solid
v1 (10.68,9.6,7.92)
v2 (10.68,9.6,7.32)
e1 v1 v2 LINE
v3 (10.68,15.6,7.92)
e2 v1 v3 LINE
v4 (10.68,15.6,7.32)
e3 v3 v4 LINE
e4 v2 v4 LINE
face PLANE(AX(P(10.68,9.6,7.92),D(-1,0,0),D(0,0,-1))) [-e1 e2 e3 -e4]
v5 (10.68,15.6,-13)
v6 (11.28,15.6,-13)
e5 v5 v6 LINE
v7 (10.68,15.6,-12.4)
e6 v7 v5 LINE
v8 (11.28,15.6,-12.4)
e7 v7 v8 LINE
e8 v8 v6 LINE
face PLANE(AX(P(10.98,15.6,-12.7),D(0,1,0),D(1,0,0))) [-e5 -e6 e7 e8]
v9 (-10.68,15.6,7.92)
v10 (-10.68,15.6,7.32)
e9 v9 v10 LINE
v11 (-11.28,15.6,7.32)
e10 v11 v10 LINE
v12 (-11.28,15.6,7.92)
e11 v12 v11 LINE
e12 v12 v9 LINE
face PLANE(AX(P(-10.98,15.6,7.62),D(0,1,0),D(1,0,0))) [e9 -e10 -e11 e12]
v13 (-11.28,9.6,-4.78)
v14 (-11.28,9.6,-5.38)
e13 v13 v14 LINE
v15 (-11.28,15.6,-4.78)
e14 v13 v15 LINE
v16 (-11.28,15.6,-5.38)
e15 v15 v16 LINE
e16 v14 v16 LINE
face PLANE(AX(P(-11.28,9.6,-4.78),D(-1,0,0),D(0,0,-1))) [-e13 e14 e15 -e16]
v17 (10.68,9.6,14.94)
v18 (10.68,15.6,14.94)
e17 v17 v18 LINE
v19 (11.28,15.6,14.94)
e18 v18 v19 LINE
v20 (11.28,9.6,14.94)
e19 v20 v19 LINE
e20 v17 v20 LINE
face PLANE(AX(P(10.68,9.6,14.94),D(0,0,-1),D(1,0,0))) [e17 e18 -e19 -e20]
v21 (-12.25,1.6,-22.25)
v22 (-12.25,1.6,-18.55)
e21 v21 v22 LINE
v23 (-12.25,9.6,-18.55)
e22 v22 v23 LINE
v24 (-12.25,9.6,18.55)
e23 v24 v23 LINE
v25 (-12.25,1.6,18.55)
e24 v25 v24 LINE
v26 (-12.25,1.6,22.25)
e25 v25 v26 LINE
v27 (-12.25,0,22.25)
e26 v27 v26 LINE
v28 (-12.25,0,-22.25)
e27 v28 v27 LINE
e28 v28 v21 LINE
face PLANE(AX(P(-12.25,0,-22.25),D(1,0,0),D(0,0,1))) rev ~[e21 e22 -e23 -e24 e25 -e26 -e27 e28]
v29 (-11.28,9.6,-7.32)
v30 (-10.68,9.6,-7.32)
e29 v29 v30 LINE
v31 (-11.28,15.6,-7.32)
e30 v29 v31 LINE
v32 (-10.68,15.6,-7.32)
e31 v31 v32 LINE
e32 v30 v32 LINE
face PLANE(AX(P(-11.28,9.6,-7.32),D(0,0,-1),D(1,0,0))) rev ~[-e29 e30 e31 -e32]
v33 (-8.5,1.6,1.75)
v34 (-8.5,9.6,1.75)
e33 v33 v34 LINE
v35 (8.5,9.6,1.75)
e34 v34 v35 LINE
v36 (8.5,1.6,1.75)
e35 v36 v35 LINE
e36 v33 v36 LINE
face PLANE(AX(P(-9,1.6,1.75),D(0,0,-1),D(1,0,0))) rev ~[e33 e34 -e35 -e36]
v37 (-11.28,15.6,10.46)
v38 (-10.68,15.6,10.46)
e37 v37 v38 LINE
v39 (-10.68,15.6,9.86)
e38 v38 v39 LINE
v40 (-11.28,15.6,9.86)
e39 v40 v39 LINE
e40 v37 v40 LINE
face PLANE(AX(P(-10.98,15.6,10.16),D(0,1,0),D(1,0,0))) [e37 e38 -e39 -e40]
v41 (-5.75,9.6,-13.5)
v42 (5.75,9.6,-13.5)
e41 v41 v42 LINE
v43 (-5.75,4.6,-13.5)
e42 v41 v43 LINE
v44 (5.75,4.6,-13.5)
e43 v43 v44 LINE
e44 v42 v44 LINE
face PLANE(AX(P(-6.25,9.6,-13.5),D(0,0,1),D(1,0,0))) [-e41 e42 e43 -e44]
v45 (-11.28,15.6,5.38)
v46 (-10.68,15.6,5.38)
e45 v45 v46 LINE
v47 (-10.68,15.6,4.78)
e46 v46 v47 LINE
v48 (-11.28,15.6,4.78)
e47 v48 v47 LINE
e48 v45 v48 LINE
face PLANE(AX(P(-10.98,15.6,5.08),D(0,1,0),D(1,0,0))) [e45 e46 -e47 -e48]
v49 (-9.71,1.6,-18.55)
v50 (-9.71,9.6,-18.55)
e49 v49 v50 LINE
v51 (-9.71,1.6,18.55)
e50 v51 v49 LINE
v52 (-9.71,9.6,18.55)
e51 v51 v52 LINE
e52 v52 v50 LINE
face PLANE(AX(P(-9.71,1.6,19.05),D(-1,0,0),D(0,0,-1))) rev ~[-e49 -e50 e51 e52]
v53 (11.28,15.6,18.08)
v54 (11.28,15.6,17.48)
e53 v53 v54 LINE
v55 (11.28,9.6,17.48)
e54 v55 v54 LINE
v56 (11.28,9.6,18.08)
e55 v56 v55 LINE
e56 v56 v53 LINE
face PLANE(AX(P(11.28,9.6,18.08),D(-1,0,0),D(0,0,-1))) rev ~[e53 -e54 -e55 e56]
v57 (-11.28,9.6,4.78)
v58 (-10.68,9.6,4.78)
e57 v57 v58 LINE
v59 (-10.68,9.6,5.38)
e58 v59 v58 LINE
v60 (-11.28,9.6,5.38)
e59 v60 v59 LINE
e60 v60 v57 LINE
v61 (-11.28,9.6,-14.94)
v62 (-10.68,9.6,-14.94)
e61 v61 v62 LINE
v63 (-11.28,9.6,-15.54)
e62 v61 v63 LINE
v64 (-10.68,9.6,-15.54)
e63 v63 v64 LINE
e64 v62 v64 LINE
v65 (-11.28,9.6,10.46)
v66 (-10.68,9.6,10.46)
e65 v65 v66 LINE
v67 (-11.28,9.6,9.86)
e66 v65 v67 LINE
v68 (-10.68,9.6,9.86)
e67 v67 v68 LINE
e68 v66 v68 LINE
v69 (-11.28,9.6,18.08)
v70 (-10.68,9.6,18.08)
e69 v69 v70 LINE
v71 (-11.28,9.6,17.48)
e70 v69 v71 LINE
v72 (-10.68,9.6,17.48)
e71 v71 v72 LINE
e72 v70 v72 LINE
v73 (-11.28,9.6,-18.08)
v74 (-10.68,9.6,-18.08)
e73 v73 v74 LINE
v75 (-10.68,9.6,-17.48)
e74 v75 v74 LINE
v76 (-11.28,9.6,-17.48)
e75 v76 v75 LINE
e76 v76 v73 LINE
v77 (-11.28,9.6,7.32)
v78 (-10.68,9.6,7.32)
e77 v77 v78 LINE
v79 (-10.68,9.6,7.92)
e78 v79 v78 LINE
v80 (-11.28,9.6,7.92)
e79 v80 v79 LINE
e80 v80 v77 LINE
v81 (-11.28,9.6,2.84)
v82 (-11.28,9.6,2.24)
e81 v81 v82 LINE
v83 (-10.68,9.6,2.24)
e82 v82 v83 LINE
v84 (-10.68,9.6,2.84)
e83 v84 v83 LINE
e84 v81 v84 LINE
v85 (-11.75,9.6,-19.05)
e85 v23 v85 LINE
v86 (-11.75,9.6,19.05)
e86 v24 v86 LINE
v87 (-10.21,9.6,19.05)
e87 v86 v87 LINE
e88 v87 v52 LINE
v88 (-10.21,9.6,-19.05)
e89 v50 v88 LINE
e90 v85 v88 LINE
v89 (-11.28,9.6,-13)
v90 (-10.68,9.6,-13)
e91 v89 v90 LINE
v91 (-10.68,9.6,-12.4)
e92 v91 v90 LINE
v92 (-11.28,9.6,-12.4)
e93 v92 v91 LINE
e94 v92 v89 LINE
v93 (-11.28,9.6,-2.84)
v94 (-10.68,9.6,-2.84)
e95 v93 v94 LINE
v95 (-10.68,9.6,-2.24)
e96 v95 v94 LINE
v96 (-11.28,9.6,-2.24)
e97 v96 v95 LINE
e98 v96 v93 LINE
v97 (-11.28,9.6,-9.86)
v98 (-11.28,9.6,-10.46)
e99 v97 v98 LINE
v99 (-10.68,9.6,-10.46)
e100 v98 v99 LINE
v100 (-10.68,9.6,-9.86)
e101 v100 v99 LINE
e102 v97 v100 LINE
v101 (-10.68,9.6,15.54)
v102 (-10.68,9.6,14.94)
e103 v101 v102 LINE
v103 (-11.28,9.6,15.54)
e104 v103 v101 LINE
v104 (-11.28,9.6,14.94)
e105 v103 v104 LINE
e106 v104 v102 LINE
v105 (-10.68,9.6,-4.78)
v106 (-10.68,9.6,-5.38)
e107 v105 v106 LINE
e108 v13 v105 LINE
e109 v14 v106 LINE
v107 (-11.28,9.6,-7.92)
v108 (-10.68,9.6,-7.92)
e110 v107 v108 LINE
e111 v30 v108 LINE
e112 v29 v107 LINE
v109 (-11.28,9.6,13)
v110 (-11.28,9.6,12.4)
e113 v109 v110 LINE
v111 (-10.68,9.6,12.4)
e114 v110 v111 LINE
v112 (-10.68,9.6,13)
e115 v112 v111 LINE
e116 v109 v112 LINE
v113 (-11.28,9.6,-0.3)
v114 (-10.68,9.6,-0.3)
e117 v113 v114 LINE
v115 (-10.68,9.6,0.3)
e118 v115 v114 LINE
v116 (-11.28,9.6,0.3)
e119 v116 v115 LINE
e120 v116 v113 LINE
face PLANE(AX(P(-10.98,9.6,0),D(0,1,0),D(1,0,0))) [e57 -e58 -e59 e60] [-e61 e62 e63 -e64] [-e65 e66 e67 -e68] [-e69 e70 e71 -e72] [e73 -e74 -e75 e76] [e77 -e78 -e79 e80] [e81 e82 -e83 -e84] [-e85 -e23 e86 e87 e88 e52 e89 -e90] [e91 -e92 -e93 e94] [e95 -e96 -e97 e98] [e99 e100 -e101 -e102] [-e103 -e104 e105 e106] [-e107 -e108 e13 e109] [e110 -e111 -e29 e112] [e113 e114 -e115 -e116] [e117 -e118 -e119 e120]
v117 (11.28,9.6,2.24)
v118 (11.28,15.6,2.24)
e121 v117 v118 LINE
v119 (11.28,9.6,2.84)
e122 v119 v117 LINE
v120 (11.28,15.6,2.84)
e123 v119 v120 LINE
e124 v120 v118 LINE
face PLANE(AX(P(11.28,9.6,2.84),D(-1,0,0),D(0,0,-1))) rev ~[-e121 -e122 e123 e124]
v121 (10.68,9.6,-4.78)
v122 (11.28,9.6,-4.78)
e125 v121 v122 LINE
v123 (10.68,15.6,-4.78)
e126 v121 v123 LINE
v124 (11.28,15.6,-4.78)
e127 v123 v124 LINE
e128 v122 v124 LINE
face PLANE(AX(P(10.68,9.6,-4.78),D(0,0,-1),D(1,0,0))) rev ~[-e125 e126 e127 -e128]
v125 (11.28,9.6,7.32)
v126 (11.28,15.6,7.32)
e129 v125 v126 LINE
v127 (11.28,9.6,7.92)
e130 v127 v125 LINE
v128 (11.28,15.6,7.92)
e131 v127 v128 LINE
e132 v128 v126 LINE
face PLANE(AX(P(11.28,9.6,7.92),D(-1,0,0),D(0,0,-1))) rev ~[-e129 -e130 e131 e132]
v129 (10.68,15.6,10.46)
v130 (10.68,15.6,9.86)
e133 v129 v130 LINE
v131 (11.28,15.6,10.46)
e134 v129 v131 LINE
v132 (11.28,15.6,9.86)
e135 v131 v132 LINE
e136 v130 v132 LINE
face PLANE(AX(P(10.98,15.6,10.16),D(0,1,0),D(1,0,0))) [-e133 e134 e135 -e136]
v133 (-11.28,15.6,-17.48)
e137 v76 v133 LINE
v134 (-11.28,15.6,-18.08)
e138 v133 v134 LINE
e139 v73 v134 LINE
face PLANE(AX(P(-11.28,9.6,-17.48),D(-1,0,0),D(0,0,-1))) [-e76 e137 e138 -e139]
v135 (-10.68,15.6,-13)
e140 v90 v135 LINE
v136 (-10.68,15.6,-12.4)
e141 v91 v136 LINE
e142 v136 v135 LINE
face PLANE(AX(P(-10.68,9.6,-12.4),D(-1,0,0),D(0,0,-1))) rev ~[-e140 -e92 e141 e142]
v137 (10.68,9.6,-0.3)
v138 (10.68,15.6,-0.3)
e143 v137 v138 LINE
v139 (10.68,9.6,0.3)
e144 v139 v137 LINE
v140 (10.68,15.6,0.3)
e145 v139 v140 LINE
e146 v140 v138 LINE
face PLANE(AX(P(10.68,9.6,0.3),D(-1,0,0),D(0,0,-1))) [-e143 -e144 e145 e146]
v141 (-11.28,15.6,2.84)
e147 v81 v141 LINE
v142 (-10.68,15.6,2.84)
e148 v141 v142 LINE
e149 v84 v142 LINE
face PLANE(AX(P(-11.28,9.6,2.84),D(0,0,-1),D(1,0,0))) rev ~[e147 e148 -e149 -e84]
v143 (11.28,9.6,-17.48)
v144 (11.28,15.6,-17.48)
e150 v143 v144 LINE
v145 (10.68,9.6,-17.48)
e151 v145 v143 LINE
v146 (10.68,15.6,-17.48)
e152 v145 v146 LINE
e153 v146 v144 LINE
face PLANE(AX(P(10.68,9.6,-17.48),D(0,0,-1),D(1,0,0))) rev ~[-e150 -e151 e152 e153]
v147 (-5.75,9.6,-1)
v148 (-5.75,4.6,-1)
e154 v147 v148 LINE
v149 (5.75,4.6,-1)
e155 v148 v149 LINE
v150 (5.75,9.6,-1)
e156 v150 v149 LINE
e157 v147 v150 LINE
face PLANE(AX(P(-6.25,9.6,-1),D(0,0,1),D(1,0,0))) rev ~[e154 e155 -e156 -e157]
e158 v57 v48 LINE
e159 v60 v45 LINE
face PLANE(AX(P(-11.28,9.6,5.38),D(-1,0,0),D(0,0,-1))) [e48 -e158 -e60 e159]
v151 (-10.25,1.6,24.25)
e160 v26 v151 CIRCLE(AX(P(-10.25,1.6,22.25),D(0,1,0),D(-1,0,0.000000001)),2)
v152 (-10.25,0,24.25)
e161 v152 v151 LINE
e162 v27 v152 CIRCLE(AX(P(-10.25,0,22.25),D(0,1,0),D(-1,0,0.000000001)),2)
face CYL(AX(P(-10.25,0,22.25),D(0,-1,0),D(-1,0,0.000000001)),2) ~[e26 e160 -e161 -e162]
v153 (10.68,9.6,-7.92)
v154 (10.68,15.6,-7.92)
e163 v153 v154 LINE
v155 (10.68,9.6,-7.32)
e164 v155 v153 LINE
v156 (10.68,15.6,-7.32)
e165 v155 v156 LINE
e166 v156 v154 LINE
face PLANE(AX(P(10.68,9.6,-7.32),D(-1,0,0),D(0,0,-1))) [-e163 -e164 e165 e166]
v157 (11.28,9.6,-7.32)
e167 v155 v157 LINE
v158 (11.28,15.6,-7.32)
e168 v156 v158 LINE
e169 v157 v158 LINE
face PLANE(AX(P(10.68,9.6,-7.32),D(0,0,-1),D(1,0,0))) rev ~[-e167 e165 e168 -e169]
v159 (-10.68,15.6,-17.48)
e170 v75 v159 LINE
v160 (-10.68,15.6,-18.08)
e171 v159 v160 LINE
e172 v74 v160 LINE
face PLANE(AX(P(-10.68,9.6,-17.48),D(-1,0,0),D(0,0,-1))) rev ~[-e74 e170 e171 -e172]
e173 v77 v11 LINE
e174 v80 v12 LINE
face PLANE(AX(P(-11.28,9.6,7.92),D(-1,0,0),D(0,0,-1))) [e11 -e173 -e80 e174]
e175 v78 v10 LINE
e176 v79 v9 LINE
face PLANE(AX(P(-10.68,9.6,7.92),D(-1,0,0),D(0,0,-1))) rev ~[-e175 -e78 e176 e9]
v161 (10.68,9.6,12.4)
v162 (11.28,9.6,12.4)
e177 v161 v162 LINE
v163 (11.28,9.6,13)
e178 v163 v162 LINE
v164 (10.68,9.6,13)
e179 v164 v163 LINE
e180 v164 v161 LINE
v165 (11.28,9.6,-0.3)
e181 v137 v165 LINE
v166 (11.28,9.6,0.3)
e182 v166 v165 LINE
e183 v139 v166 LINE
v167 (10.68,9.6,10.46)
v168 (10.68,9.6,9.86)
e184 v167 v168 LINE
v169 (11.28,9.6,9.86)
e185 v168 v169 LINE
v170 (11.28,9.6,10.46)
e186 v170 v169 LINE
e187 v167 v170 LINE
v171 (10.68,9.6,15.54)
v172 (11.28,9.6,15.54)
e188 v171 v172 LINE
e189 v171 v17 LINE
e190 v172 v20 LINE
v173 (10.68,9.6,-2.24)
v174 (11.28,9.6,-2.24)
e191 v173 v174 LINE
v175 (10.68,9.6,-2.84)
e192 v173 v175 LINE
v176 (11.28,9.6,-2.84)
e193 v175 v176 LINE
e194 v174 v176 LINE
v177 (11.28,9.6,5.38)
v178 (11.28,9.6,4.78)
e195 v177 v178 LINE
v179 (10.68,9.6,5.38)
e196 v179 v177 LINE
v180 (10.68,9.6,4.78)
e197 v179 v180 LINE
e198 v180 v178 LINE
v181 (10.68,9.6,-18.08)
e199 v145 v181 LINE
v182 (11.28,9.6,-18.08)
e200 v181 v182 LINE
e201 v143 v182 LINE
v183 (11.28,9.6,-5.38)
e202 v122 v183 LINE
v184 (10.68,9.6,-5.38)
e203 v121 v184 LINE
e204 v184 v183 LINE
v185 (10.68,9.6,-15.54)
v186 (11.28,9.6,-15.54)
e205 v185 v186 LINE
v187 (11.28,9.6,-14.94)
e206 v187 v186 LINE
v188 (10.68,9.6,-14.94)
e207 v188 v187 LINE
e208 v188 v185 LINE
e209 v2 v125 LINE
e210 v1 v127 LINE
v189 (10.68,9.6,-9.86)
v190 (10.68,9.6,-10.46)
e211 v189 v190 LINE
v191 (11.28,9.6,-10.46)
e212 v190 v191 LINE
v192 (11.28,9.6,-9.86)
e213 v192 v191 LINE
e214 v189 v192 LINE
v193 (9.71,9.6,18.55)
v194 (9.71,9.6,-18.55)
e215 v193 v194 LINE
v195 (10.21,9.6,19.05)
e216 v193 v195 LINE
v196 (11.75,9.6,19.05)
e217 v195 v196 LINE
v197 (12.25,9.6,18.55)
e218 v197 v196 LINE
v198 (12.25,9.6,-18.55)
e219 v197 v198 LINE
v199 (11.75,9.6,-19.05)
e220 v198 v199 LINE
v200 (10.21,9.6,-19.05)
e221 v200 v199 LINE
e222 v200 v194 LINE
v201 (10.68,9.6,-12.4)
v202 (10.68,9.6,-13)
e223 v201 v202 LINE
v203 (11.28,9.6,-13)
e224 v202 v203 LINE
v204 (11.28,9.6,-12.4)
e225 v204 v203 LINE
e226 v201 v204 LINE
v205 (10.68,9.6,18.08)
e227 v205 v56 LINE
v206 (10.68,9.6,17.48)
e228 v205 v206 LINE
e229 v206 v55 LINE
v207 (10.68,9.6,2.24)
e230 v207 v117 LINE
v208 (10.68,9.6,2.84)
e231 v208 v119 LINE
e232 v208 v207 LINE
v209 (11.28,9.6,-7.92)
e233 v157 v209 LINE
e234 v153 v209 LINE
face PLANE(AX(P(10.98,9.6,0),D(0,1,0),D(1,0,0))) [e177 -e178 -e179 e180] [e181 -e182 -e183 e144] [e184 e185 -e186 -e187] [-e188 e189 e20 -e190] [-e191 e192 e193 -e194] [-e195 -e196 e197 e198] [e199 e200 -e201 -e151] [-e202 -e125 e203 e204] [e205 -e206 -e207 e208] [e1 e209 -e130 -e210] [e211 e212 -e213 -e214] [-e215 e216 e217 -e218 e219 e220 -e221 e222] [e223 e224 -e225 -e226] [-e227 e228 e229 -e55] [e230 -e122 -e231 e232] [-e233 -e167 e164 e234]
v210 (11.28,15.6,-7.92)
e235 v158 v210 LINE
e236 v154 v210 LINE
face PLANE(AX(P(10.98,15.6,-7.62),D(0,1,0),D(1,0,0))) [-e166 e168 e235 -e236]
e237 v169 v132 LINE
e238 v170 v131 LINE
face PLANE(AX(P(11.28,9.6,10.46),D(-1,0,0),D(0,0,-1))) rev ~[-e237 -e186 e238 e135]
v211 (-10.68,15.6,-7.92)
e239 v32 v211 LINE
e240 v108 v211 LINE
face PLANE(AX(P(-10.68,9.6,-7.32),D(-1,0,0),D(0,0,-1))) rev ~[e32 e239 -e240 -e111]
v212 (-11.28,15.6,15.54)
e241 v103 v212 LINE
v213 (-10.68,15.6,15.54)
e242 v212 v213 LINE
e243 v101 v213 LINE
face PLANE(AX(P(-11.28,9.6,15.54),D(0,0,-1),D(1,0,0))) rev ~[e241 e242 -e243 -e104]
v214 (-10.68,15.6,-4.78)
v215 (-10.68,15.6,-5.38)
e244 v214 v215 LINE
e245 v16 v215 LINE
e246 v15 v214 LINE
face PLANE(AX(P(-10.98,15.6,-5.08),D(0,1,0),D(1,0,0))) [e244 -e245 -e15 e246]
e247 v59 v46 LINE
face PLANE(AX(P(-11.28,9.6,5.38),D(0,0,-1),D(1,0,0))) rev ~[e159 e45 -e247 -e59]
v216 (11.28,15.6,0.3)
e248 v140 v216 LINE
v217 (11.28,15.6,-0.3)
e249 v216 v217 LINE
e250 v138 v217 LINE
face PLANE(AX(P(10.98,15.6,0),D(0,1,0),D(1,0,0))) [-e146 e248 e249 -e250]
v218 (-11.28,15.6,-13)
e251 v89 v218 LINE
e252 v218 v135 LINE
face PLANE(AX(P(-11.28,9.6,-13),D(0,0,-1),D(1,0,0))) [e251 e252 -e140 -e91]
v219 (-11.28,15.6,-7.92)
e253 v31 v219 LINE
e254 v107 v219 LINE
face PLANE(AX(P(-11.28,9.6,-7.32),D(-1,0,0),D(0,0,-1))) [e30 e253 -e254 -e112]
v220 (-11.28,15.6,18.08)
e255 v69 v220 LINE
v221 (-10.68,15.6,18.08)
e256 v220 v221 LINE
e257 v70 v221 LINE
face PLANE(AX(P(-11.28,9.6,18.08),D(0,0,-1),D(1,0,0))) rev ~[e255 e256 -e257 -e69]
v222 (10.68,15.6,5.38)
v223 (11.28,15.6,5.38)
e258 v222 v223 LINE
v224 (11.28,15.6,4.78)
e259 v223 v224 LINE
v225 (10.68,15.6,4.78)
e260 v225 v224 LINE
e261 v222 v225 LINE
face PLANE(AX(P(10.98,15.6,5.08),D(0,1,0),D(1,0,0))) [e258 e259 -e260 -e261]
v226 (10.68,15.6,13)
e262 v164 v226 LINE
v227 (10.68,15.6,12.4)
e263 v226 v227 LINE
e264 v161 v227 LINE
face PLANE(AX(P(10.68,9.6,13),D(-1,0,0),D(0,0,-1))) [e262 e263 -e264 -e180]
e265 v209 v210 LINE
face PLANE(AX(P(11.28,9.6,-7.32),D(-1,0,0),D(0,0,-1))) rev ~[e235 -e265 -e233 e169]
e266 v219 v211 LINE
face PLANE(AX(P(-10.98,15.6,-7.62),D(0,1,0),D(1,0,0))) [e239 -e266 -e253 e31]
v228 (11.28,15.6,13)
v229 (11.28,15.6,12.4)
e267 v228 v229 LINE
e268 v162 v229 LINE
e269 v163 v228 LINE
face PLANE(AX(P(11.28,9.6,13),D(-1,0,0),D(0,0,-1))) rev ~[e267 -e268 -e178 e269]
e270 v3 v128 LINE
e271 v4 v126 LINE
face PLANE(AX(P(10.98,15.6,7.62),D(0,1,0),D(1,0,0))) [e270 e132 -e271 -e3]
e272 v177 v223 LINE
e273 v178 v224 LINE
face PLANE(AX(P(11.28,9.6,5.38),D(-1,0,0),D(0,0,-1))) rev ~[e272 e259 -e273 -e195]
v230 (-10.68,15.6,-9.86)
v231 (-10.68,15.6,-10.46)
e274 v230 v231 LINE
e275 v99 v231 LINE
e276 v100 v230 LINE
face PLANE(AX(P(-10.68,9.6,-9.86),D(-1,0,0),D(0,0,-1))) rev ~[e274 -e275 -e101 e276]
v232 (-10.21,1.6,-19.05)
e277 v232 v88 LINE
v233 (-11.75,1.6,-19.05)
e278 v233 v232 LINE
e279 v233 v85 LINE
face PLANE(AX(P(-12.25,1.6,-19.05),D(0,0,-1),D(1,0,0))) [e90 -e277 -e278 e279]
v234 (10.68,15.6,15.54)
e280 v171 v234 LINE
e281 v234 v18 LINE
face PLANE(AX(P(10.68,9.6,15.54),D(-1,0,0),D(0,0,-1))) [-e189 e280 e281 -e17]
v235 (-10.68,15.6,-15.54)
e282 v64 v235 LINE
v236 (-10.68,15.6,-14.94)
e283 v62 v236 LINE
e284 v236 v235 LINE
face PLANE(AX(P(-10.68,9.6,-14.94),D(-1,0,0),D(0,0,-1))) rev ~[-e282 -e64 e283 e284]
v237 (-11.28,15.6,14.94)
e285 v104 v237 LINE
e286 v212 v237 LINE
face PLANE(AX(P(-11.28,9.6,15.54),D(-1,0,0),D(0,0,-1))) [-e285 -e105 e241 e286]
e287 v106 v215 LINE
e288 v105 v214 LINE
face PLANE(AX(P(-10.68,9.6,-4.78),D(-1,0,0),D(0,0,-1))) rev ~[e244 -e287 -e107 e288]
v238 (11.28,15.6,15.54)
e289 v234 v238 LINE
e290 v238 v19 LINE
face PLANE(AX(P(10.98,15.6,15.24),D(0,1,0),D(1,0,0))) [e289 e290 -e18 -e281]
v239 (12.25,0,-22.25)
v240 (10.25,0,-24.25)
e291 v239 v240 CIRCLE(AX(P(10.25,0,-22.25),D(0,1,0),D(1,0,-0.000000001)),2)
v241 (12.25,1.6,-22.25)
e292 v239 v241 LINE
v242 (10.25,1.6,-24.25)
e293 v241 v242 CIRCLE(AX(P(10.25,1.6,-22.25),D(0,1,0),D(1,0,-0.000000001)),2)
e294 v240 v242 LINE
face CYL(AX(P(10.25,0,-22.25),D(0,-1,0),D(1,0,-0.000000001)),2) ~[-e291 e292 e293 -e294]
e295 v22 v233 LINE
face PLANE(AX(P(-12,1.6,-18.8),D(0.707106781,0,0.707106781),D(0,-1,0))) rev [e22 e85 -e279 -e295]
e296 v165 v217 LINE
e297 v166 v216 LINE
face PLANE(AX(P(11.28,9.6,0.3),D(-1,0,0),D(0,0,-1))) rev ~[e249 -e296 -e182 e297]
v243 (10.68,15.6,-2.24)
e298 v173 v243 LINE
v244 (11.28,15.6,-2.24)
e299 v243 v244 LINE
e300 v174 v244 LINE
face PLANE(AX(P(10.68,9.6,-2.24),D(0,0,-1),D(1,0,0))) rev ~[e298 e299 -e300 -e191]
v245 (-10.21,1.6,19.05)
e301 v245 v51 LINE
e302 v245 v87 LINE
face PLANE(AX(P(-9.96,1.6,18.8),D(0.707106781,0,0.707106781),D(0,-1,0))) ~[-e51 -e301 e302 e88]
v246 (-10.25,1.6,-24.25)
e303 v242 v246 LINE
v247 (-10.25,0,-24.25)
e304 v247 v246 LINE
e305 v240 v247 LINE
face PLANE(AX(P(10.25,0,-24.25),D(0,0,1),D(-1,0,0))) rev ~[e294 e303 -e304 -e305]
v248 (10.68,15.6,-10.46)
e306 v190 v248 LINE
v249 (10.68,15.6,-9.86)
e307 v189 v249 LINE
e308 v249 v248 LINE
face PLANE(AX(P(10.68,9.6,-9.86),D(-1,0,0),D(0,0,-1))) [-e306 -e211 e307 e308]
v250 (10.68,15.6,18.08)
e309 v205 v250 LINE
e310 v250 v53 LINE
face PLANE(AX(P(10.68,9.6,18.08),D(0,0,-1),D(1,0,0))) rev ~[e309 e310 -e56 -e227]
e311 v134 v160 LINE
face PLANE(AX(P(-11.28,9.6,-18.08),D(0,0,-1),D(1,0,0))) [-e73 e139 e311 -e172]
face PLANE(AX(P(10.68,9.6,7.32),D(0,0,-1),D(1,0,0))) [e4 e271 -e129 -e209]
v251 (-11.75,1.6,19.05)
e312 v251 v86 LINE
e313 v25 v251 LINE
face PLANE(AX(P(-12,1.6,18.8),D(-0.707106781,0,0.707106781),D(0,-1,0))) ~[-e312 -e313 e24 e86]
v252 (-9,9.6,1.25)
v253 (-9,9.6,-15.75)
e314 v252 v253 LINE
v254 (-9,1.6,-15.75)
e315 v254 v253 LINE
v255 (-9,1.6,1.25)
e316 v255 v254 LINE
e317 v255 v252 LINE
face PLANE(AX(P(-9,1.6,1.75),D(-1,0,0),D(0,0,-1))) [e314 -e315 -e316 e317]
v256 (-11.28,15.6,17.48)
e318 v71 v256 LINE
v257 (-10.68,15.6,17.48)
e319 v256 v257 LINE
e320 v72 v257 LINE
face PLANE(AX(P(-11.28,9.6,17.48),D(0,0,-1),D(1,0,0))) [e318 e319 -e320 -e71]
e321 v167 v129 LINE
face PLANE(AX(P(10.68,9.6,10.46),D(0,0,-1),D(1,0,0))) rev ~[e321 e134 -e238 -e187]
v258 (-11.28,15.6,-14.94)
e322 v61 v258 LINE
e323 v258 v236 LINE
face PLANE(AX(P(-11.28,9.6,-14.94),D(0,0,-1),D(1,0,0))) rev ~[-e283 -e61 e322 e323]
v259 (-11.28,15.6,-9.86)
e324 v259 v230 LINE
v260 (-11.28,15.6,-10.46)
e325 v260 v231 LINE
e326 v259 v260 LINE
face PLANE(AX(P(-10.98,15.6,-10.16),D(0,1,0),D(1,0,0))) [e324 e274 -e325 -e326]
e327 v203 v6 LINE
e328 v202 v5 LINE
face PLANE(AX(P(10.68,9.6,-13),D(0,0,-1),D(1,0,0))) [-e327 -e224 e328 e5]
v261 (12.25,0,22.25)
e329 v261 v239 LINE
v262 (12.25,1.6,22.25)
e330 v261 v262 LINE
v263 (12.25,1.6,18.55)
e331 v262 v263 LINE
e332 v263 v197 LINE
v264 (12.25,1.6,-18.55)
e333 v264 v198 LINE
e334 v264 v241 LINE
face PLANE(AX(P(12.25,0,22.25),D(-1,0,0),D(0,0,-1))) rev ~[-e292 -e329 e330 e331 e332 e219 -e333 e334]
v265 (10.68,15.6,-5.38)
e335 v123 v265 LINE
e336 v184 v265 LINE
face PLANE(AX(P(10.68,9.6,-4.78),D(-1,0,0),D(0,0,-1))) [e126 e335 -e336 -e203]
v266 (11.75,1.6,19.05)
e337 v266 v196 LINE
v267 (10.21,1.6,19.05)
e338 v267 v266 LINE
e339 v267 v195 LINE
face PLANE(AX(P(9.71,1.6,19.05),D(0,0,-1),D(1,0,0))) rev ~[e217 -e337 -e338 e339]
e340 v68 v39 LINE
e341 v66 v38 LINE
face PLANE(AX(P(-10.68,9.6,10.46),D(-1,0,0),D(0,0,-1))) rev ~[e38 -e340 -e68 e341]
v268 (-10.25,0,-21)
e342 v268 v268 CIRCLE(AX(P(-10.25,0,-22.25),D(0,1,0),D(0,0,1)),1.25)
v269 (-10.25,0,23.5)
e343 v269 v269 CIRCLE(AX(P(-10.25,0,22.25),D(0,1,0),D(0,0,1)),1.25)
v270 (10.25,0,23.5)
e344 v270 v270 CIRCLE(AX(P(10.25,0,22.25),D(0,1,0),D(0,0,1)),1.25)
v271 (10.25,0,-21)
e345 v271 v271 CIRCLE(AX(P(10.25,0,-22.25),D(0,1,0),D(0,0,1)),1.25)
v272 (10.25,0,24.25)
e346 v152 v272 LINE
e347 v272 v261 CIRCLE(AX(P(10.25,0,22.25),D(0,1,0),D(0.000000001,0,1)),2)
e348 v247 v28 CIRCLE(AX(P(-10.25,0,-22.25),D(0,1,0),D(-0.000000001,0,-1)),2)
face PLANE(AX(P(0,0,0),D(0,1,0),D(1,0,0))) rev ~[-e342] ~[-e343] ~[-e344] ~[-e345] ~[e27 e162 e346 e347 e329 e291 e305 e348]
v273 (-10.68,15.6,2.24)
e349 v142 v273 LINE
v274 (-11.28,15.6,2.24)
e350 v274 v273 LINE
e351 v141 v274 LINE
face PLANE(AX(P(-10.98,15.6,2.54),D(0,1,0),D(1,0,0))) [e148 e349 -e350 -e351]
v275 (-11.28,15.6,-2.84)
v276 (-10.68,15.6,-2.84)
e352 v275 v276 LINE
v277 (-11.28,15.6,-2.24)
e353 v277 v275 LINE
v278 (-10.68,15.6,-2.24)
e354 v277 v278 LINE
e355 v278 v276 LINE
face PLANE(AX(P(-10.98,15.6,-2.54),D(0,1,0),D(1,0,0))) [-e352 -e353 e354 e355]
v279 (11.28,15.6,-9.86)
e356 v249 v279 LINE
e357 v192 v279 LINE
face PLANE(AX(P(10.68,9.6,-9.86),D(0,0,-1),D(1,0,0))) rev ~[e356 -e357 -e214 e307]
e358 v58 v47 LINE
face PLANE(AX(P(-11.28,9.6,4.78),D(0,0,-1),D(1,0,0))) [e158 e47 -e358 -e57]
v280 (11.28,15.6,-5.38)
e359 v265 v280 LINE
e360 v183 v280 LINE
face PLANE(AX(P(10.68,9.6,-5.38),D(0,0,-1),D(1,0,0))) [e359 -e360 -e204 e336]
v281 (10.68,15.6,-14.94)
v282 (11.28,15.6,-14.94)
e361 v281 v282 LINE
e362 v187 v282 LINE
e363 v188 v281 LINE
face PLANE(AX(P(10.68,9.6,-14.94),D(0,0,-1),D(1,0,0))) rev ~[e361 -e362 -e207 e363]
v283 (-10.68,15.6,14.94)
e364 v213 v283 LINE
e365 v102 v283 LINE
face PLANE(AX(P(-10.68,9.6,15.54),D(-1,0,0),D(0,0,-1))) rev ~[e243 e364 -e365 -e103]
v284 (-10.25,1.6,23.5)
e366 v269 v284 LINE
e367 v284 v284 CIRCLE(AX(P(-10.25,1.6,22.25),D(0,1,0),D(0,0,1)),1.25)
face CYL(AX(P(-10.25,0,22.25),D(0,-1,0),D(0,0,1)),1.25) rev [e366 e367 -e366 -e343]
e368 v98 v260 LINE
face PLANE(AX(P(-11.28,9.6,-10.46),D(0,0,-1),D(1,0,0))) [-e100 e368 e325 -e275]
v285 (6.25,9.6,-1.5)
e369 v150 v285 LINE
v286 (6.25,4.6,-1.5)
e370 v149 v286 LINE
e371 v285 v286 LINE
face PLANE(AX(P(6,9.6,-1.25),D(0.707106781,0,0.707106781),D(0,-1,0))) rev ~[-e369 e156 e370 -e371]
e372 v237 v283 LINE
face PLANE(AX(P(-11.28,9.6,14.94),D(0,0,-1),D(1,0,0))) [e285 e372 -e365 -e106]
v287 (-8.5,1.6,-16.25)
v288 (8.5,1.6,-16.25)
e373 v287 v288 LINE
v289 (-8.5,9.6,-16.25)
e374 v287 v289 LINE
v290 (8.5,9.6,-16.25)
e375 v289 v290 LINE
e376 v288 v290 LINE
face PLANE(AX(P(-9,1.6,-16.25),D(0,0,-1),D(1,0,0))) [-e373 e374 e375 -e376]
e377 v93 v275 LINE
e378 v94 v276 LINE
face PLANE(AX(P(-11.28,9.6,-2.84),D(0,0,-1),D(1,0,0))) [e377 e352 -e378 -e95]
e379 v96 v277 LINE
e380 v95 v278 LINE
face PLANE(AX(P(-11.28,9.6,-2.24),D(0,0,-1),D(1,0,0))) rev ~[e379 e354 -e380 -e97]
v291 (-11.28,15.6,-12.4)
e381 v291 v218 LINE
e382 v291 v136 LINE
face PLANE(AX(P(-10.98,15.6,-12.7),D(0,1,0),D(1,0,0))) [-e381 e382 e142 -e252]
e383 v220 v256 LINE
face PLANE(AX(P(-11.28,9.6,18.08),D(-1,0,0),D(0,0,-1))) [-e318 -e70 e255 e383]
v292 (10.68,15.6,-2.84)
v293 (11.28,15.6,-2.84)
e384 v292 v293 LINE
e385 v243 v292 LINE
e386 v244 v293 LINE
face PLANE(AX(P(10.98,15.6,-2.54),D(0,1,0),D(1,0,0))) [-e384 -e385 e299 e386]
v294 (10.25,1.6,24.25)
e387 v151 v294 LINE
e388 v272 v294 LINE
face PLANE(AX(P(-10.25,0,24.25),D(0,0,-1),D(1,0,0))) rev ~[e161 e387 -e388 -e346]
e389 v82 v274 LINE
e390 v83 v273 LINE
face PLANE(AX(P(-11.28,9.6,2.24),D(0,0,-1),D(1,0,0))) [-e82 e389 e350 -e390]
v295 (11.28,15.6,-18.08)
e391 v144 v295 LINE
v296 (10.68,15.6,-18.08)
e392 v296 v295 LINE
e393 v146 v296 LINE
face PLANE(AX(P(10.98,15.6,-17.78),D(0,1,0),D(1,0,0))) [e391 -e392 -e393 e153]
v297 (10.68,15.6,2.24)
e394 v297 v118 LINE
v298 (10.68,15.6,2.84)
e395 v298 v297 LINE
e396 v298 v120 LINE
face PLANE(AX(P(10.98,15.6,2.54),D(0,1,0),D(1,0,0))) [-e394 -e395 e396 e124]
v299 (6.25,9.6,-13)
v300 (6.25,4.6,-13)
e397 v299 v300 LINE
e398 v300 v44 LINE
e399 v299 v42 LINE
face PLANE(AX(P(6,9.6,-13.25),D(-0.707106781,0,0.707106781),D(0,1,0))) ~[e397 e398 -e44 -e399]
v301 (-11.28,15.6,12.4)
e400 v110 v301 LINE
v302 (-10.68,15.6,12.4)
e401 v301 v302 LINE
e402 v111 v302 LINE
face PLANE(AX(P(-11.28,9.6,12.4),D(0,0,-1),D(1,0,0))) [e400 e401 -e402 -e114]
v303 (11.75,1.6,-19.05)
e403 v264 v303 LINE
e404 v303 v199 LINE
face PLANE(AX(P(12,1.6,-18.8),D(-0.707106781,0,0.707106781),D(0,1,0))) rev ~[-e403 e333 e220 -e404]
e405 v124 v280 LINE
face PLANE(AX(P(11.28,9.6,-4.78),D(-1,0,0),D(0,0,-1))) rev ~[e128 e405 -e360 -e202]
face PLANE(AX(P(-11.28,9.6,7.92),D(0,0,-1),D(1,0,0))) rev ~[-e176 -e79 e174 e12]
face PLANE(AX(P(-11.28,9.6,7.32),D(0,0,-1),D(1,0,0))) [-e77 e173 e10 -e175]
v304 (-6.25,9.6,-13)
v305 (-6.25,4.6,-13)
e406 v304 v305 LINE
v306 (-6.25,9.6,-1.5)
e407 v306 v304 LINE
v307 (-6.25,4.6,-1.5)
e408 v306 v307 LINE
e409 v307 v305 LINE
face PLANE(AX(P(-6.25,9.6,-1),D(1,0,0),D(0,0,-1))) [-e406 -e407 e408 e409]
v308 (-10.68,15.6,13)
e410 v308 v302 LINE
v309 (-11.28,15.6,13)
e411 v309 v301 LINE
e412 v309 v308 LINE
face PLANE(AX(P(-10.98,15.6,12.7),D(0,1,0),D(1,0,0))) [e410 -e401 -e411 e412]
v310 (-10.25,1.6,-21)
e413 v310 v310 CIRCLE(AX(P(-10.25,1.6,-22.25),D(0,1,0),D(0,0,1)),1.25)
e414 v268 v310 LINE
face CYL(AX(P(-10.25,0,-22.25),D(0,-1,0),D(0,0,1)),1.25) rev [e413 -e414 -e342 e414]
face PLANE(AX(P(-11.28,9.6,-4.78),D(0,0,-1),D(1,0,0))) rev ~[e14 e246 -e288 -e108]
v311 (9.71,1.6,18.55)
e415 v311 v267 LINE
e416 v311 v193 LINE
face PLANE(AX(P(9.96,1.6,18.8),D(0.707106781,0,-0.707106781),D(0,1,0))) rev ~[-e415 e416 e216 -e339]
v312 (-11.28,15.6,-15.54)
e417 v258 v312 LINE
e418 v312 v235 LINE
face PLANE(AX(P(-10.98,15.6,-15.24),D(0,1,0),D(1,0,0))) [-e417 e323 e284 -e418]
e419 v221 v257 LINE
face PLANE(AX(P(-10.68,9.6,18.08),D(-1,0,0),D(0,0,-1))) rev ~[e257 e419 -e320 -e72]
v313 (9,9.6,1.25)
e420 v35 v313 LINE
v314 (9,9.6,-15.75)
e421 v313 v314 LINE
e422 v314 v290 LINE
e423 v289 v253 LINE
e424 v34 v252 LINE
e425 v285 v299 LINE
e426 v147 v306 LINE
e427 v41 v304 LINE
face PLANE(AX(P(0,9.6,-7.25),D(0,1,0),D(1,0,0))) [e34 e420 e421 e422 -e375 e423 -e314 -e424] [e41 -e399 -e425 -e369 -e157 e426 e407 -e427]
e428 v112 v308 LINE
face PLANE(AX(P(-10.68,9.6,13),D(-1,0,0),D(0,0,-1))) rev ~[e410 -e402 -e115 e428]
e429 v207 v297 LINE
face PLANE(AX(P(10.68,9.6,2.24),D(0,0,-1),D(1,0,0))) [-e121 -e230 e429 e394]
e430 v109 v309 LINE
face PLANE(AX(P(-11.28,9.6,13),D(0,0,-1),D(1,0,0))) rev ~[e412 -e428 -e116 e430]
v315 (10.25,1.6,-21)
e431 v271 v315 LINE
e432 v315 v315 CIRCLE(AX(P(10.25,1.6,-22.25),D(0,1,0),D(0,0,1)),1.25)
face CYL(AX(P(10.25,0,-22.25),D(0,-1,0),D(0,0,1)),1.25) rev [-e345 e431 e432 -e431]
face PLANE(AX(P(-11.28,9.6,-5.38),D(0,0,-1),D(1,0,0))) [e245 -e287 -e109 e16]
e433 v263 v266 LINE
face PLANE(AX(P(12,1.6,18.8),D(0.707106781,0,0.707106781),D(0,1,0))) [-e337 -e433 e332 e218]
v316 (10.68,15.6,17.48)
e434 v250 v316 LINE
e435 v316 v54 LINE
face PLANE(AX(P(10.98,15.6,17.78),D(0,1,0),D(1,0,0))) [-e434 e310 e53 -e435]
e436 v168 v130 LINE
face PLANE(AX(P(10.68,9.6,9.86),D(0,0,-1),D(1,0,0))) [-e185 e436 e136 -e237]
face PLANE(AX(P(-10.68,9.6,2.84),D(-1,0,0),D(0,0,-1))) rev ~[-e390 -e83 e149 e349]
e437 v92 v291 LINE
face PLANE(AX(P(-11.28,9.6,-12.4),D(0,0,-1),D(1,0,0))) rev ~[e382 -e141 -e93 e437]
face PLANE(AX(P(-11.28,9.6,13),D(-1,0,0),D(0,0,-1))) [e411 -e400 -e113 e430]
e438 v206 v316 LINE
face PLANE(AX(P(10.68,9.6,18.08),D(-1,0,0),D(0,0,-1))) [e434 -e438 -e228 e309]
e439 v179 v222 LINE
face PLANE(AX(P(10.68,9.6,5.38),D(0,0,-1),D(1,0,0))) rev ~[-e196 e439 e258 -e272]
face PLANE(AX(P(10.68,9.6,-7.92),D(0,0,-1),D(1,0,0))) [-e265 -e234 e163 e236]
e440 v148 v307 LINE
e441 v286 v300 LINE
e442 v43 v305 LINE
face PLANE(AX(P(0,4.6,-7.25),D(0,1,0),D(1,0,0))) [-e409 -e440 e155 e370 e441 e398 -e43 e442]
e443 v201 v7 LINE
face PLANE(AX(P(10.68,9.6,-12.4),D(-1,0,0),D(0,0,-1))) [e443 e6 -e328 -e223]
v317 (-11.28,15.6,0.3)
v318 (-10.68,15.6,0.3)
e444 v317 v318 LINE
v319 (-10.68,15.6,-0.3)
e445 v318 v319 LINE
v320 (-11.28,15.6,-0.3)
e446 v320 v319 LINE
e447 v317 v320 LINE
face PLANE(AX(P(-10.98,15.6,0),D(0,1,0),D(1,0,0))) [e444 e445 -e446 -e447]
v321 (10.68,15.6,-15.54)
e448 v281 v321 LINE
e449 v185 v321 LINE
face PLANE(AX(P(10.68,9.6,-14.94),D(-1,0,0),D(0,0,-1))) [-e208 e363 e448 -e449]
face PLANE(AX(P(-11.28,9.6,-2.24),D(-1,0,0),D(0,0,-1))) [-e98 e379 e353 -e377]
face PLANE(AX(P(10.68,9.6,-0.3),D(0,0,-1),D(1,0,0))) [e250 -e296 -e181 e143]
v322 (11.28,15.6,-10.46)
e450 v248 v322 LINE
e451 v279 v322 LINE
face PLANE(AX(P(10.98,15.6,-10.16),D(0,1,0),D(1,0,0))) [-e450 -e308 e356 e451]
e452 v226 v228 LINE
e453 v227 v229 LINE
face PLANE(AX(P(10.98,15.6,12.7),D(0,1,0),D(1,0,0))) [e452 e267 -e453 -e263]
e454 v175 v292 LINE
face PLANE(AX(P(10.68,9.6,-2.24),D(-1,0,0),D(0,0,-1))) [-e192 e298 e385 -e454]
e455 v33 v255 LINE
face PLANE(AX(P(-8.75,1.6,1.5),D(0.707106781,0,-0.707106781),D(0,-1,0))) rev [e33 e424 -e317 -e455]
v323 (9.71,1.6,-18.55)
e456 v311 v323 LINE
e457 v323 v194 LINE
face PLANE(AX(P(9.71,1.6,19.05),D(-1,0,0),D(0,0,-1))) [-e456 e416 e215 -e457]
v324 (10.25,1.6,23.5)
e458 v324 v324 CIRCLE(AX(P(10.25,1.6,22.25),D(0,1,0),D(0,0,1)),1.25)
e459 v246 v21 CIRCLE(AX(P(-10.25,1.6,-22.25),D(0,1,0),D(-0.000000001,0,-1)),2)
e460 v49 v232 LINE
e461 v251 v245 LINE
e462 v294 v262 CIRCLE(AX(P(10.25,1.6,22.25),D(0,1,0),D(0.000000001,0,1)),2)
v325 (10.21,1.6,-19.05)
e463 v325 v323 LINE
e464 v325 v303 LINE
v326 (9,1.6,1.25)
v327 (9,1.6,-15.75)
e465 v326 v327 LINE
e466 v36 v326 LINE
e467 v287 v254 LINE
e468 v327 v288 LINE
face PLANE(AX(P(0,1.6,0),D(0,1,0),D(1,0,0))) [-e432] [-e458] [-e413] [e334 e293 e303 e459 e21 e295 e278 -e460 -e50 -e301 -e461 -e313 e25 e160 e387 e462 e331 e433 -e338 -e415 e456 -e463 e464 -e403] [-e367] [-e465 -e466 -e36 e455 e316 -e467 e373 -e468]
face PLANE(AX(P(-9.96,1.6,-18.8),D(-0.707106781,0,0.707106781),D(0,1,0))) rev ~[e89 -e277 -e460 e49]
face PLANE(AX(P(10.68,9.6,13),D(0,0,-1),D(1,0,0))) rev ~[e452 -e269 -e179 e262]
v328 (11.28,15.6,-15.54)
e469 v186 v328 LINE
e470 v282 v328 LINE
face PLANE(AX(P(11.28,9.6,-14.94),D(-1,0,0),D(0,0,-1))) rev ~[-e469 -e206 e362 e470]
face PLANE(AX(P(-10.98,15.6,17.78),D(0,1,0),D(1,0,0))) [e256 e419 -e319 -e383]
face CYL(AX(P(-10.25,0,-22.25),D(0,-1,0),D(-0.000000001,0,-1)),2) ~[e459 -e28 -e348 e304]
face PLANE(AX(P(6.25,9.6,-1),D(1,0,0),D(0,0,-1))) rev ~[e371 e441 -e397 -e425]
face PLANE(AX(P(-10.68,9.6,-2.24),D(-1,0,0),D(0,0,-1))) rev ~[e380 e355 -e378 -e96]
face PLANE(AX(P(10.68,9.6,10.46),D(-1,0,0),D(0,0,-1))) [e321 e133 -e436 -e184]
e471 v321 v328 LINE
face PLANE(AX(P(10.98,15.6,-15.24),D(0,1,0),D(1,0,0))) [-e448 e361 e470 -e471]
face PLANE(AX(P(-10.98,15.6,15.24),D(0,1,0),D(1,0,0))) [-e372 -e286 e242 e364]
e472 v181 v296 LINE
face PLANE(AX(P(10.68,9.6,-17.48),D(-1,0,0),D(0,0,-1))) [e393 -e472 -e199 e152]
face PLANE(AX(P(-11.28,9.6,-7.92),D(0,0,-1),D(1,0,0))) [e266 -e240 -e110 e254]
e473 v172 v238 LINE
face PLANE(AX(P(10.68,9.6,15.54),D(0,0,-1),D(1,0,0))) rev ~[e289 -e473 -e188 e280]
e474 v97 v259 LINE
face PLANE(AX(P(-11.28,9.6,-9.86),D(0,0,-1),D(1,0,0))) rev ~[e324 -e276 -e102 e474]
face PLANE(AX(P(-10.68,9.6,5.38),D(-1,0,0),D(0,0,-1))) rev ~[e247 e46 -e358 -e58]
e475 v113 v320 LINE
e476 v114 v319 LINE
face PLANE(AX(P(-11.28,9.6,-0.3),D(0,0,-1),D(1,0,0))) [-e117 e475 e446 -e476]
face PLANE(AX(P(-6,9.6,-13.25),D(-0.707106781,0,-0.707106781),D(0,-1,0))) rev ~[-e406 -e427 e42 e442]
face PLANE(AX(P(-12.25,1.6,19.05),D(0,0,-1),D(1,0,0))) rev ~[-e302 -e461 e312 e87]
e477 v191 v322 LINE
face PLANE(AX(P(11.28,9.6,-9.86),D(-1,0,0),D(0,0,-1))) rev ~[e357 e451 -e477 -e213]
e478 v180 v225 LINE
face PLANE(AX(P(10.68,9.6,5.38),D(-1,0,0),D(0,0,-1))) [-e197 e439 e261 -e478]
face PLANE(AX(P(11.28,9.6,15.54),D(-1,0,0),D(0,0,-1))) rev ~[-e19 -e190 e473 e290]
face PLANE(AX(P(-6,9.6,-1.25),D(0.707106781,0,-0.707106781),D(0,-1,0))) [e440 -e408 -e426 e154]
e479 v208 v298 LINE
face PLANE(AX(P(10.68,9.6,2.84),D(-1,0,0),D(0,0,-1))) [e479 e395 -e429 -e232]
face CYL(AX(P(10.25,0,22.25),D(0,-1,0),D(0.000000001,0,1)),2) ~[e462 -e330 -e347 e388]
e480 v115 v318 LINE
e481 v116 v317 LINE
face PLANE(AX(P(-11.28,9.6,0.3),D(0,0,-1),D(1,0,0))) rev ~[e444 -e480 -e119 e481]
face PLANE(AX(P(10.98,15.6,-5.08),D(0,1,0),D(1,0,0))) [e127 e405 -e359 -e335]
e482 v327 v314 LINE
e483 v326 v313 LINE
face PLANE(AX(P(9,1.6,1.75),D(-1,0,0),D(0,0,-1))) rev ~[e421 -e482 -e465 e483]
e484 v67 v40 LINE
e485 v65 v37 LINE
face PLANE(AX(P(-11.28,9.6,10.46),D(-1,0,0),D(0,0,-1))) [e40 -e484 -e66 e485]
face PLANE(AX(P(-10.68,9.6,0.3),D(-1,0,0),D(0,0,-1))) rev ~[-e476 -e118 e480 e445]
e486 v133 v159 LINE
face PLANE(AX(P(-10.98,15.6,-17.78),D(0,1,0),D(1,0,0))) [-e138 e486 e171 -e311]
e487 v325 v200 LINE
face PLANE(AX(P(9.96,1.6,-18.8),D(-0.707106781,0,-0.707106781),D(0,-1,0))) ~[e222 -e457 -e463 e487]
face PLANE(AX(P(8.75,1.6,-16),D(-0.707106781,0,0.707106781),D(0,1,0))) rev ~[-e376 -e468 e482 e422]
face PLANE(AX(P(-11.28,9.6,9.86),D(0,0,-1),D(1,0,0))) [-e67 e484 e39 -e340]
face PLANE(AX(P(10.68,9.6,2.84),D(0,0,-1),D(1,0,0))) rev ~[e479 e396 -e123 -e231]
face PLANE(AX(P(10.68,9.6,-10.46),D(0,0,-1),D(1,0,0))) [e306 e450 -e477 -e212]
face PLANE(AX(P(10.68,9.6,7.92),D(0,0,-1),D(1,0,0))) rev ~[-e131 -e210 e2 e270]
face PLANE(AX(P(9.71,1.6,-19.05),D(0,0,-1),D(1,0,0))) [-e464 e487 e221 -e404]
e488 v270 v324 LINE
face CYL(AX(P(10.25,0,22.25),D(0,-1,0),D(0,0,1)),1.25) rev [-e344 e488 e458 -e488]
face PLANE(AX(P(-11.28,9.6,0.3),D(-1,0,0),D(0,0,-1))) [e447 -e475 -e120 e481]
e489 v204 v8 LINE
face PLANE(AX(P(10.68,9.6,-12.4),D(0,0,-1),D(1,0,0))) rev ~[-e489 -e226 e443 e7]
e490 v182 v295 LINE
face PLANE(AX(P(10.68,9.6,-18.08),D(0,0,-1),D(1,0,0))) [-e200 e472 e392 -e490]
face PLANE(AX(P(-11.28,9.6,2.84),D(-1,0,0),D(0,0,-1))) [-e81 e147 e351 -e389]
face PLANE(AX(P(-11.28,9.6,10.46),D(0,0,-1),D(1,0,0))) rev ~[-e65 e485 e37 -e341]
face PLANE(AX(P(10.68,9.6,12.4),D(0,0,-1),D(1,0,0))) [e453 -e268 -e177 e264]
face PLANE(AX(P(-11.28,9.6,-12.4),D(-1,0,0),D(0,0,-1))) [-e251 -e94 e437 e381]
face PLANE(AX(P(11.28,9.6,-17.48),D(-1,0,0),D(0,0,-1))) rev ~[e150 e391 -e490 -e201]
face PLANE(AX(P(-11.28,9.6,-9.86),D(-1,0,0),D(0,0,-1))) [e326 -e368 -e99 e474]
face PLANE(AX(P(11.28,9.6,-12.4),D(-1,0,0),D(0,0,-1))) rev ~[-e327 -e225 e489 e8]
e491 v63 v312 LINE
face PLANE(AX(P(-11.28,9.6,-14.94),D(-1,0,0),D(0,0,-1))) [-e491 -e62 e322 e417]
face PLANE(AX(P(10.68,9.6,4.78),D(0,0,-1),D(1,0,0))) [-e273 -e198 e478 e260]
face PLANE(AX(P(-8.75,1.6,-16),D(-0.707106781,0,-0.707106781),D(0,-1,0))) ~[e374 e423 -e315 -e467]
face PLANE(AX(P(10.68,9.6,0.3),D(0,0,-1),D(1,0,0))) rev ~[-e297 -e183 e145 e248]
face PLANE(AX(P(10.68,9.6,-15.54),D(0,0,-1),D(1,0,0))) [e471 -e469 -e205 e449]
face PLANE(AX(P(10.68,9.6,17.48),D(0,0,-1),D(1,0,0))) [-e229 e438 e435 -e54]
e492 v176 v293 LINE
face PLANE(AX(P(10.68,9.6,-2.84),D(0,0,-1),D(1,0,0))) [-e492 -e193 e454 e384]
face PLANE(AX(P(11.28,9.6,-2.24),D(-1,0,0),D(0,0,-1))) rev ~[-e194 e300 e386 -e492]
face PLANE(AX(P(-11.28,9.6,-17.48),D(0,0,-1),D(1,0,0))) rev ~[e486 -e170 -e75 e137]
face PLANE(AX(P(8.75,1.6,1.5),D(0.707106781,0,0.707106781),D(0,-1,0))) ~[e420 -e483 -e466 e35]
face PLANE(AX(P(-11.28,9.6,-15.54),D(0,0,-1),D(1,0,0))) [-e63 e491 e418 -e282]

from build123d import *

# Parameters (mm, degrees)
SKETCH_1_R          = 1.25
EXTRUDE_1_DEPTH     = 1.6
SKETCH_2_W          = 18
SKETCH_2_H          = 18
SKETCH_2_W_2        = 2.54
SKETCH_2_H_2        = 38.1
EXTRUDE_2_DEPTH     = 8
SKETCH_4_W          = 12.5
SKETCH_4_H          = 12.5
CUT_EXTRUDE_1_DEPTH = 5
SKETCH_5_W          = 0.6
SKETCH_5_H          = 0.6
EXTRUDE_3_DEPTH     = 6
CHAMFER_1_SIZE      = 0.5


with BuildPart() as part:
    # 草图1 → 凸台-拉伸1 (new body)
    with BuildSketch(Plane(origin=(0, 0, 0), x_dir=(1, 0, 0), z_dir=(0, 1, 0))):
        with BuildLine():
            Line((-10.25, -24.25), (10.25, -24.25))
            ThreePointArc((10.25, -24.25), (11.664213562, -23.664213562), (12.25, -22.25))
            Line((12.25, -22.25), (12.25, 22.25))
            ThreePointArc((12.25, 22.25), (11.664213562, 23.664213562), (10.25, 24.25))
            Line((10.25, 24.25), (-10.25, 24.25))
            ThreePointArc((-10.25, 24.25), (-11.664213562, 23.664213562), (-12.25, 22.25))
            Line((-12.25, 22.25), (-12.25, -22.25))
            ThreePointArc((-12.25, -22.25), (-11.664213562, -23.664213562), (-10.25, -24.25))
        make_face()
        with Locations(Location((-10.25, 22.25, 0), (0, 0, 270))):
            Circle(SKETCH_1_R, mode=Mode.SUBTRACT)
        with Locations(Location((10.25, 22.25, 0), (0, 0, 270))):
            Circle(SKETCH_1_R, mode=Mode.SUBTRACT)
        with Locations(Location((-10.25, -22.25, 0), (0, 0, 270))):
            Circle(SKETCH_1_R, mode=Mode.SUBTRACT)
        with Locations(Location((10.25, -22.25, 0), (0, 0, 270))):
            Circle(SKETCH_1_R, mode=Mode.SUBTRACT)
    extrude(amount=EXTRUDE_1_DEPTH)

    # 草图2 → 凸台-拉伸2 (add)
    with BuildSketch(Plane(origin=(0, 1.6, 0), x_dir=(1, 0, 0), z_dir=(0, 1, 0))):
        with Locations((0, 7.25)):
            Rectangle(SKETCH_2_W, SKETCH_2_H)
        with Locations((-10.98, 0)):
            Rectangle(SKETCH_2_W_2, SKETCH_2_H_2)
        with Locations((10.98, 0)):
            Rectangle(SKETCH_2_W_2, SKETCH_2_H_2)
    extrude(amount=EXTRUDE_2_DEPTH)

    # 草图4 → 切除-拉伸1 (cut)
    with BuildSketch(Plane(origin=(0, 9.6, 0), x_dir=(1, 0, 0), z_dir=(0, 1, 0))):
        with Locations((0, 7.25)):
            Rectangle(SKETCH_4_W, SKETCH_4_H)
    extrude(amount=-CUT_EXTRUDE_1_DEPTH, mode=Mode.SUBTRACT)

    # 草图5 → 凸台-拉伸3 (add)
    with BuildSketch(Plane(origin=(0, 9.6, 0), x_dir=(1, 0, 0), z_dir=(0, 1, 0))):
        with Locations((-10.98, 17.78)):
            Rectangle(SKETCH_5_W, SKETCH_5_H)
        with Locations((-10.98, 15.24)):
            Rectangle(SKETCH_5_W, SKETCH_5_H)
        with Locations((-10.98, 12.7)):
            Rectangle(SKETCH_5_W, SKETCH_5_H)
        with Locations((-10.98, 10.16)):
            Rectangle(SKETCH_5_W, SKETCH_5_H)
        with Locations((-10.98, 7.62)):
            Rectangle(SKETCH_5_W, SKETCH_5_H)
        with Locations((-10.98, 5.08)):
            Rectangle(SKETCH_5_W, SKETCH_5_H)
        with Locations((-10.98, 2.54)):
            Rectangle(SKETCH_5_W, SKETCH_5_H)
        with Locations((-10.98, 0)):
            Rectangle(SKETCH_5_W, SKETCH_5_H)
        with Locations((-10.98, -2.54)):
            Rectangle(SKETCH_5_W, SKETCH_5_H)
        with Locations((-10.98, -5.08)):
            Rectangle(SKETCH_5_W, SKETCH_5_H)
        with Locations((-10.98, -7.62)):
            Rectangle(SKETCH_5_W, SKETCH_5_H)
        with Locations((-10.98, -10.16)):
            Rectangle(SKETCH_5_W, SKETCH_5_H)
        with Locations((-10.98, -12.7)):
            Rectangle(SKETCH_5_W, SKETCH_5_H)
        with Locations((-10.98, -15.24)):
            Rectangle(SKETCH_5_W, SKETCH_5_H)
        with Locations((-10.98, -17.78)):
            Rectangle(SKETCH_5_W, SKETCH_5_H)
        with Locations((10.98, -17.78)):
            Rectangle(SKETCH_5_W, SKETCH_5_H)
        with Locations((10.98, -15.24)):
            Rectangle(SKETCH_5_W, SKETCH_5_H)
        with Locations((10.98, -12.7)):
            Rectangle(SKETCH_5_W, SKETCH_5_H)
        with Locations((10.98, -10.16)):
            Rectangle(SKETCH_5_W, SKETCH_5_H)
        with Locations((10.98, -7.62)):
            Rectangle(SKETCH_5_W, SKETCH_5_H)
        with Locations((10.98, -5.08)):
            Rectangle(SKETCH_5_W, SKETCH_5_H)
        with Locations((10.98, -2.54)):
            Rectangle(SKETCH_5_W, SKETCH_5_H)
        with Locations((10.98, 0)):
            Rectangle(SKETCH_5_W, SKETCH_5_H)
        with Locations((10.98, 2.54)):
            Rectangle(SKETCH_5_W, SKETCH_5_H)
        with Locations((10.98, 5.08)):
            Rectangle(SKETCH_5_W, SKETCH_5_H)
        with Locations((10.98, 7.62)):
            Rectangle(SKETCH_5_W, SKETCH_5_H)
        with Locations((10.98, 10.16)):
            Rectangle(SKETCH_5_W, SKETCH_5_H)
        with Locations((10.98, 12.7)):
            Rectangle(SKETCH_5_W, SKETCH_5_H)
        with Locations((10.98, 15.24)):
            Rectangle(SKETCH_5_W, SKETCH_5_H)
        with Locations((10.98, 17.78)):
            Rectangle(SKETCH_5_W, SKETCH_5_H)
    extrude(amount=EXTRUDE_3_DEPTH)

    # 倒角1
    chamfer_1_edges = [part.edges().sort_by_distance(p)[0] for p in [
        (9, 5.6, 1.75),
        (9, 5.6, -16.25),
        (-9, 5.6, -16.25),
        (-9, 5.6, 1.75),
        (-12.25, 5.6, -19.05),
        (-12.25, 5.6, 19.05),
        (-9.71, 5.6, 19.05),
        (-9.71, 5.6, -19.05),
        (12.25, 5.6, -19.05),
        (9.71, 5.6, -19.05),
        (9.71, 5.6, 19.05),
        (12.25, 5.6, 19.05),
        (6.25, 7.1, -13.5),
        (6.25, 7.1, -1),
        (-6.25, 7.1, -1),
        (-6.25, 7.1, -13.5),
    ]]
    chamfer(chamfer_1_edges, length=CHAMFER_1_SIZE)


solid = part.part
